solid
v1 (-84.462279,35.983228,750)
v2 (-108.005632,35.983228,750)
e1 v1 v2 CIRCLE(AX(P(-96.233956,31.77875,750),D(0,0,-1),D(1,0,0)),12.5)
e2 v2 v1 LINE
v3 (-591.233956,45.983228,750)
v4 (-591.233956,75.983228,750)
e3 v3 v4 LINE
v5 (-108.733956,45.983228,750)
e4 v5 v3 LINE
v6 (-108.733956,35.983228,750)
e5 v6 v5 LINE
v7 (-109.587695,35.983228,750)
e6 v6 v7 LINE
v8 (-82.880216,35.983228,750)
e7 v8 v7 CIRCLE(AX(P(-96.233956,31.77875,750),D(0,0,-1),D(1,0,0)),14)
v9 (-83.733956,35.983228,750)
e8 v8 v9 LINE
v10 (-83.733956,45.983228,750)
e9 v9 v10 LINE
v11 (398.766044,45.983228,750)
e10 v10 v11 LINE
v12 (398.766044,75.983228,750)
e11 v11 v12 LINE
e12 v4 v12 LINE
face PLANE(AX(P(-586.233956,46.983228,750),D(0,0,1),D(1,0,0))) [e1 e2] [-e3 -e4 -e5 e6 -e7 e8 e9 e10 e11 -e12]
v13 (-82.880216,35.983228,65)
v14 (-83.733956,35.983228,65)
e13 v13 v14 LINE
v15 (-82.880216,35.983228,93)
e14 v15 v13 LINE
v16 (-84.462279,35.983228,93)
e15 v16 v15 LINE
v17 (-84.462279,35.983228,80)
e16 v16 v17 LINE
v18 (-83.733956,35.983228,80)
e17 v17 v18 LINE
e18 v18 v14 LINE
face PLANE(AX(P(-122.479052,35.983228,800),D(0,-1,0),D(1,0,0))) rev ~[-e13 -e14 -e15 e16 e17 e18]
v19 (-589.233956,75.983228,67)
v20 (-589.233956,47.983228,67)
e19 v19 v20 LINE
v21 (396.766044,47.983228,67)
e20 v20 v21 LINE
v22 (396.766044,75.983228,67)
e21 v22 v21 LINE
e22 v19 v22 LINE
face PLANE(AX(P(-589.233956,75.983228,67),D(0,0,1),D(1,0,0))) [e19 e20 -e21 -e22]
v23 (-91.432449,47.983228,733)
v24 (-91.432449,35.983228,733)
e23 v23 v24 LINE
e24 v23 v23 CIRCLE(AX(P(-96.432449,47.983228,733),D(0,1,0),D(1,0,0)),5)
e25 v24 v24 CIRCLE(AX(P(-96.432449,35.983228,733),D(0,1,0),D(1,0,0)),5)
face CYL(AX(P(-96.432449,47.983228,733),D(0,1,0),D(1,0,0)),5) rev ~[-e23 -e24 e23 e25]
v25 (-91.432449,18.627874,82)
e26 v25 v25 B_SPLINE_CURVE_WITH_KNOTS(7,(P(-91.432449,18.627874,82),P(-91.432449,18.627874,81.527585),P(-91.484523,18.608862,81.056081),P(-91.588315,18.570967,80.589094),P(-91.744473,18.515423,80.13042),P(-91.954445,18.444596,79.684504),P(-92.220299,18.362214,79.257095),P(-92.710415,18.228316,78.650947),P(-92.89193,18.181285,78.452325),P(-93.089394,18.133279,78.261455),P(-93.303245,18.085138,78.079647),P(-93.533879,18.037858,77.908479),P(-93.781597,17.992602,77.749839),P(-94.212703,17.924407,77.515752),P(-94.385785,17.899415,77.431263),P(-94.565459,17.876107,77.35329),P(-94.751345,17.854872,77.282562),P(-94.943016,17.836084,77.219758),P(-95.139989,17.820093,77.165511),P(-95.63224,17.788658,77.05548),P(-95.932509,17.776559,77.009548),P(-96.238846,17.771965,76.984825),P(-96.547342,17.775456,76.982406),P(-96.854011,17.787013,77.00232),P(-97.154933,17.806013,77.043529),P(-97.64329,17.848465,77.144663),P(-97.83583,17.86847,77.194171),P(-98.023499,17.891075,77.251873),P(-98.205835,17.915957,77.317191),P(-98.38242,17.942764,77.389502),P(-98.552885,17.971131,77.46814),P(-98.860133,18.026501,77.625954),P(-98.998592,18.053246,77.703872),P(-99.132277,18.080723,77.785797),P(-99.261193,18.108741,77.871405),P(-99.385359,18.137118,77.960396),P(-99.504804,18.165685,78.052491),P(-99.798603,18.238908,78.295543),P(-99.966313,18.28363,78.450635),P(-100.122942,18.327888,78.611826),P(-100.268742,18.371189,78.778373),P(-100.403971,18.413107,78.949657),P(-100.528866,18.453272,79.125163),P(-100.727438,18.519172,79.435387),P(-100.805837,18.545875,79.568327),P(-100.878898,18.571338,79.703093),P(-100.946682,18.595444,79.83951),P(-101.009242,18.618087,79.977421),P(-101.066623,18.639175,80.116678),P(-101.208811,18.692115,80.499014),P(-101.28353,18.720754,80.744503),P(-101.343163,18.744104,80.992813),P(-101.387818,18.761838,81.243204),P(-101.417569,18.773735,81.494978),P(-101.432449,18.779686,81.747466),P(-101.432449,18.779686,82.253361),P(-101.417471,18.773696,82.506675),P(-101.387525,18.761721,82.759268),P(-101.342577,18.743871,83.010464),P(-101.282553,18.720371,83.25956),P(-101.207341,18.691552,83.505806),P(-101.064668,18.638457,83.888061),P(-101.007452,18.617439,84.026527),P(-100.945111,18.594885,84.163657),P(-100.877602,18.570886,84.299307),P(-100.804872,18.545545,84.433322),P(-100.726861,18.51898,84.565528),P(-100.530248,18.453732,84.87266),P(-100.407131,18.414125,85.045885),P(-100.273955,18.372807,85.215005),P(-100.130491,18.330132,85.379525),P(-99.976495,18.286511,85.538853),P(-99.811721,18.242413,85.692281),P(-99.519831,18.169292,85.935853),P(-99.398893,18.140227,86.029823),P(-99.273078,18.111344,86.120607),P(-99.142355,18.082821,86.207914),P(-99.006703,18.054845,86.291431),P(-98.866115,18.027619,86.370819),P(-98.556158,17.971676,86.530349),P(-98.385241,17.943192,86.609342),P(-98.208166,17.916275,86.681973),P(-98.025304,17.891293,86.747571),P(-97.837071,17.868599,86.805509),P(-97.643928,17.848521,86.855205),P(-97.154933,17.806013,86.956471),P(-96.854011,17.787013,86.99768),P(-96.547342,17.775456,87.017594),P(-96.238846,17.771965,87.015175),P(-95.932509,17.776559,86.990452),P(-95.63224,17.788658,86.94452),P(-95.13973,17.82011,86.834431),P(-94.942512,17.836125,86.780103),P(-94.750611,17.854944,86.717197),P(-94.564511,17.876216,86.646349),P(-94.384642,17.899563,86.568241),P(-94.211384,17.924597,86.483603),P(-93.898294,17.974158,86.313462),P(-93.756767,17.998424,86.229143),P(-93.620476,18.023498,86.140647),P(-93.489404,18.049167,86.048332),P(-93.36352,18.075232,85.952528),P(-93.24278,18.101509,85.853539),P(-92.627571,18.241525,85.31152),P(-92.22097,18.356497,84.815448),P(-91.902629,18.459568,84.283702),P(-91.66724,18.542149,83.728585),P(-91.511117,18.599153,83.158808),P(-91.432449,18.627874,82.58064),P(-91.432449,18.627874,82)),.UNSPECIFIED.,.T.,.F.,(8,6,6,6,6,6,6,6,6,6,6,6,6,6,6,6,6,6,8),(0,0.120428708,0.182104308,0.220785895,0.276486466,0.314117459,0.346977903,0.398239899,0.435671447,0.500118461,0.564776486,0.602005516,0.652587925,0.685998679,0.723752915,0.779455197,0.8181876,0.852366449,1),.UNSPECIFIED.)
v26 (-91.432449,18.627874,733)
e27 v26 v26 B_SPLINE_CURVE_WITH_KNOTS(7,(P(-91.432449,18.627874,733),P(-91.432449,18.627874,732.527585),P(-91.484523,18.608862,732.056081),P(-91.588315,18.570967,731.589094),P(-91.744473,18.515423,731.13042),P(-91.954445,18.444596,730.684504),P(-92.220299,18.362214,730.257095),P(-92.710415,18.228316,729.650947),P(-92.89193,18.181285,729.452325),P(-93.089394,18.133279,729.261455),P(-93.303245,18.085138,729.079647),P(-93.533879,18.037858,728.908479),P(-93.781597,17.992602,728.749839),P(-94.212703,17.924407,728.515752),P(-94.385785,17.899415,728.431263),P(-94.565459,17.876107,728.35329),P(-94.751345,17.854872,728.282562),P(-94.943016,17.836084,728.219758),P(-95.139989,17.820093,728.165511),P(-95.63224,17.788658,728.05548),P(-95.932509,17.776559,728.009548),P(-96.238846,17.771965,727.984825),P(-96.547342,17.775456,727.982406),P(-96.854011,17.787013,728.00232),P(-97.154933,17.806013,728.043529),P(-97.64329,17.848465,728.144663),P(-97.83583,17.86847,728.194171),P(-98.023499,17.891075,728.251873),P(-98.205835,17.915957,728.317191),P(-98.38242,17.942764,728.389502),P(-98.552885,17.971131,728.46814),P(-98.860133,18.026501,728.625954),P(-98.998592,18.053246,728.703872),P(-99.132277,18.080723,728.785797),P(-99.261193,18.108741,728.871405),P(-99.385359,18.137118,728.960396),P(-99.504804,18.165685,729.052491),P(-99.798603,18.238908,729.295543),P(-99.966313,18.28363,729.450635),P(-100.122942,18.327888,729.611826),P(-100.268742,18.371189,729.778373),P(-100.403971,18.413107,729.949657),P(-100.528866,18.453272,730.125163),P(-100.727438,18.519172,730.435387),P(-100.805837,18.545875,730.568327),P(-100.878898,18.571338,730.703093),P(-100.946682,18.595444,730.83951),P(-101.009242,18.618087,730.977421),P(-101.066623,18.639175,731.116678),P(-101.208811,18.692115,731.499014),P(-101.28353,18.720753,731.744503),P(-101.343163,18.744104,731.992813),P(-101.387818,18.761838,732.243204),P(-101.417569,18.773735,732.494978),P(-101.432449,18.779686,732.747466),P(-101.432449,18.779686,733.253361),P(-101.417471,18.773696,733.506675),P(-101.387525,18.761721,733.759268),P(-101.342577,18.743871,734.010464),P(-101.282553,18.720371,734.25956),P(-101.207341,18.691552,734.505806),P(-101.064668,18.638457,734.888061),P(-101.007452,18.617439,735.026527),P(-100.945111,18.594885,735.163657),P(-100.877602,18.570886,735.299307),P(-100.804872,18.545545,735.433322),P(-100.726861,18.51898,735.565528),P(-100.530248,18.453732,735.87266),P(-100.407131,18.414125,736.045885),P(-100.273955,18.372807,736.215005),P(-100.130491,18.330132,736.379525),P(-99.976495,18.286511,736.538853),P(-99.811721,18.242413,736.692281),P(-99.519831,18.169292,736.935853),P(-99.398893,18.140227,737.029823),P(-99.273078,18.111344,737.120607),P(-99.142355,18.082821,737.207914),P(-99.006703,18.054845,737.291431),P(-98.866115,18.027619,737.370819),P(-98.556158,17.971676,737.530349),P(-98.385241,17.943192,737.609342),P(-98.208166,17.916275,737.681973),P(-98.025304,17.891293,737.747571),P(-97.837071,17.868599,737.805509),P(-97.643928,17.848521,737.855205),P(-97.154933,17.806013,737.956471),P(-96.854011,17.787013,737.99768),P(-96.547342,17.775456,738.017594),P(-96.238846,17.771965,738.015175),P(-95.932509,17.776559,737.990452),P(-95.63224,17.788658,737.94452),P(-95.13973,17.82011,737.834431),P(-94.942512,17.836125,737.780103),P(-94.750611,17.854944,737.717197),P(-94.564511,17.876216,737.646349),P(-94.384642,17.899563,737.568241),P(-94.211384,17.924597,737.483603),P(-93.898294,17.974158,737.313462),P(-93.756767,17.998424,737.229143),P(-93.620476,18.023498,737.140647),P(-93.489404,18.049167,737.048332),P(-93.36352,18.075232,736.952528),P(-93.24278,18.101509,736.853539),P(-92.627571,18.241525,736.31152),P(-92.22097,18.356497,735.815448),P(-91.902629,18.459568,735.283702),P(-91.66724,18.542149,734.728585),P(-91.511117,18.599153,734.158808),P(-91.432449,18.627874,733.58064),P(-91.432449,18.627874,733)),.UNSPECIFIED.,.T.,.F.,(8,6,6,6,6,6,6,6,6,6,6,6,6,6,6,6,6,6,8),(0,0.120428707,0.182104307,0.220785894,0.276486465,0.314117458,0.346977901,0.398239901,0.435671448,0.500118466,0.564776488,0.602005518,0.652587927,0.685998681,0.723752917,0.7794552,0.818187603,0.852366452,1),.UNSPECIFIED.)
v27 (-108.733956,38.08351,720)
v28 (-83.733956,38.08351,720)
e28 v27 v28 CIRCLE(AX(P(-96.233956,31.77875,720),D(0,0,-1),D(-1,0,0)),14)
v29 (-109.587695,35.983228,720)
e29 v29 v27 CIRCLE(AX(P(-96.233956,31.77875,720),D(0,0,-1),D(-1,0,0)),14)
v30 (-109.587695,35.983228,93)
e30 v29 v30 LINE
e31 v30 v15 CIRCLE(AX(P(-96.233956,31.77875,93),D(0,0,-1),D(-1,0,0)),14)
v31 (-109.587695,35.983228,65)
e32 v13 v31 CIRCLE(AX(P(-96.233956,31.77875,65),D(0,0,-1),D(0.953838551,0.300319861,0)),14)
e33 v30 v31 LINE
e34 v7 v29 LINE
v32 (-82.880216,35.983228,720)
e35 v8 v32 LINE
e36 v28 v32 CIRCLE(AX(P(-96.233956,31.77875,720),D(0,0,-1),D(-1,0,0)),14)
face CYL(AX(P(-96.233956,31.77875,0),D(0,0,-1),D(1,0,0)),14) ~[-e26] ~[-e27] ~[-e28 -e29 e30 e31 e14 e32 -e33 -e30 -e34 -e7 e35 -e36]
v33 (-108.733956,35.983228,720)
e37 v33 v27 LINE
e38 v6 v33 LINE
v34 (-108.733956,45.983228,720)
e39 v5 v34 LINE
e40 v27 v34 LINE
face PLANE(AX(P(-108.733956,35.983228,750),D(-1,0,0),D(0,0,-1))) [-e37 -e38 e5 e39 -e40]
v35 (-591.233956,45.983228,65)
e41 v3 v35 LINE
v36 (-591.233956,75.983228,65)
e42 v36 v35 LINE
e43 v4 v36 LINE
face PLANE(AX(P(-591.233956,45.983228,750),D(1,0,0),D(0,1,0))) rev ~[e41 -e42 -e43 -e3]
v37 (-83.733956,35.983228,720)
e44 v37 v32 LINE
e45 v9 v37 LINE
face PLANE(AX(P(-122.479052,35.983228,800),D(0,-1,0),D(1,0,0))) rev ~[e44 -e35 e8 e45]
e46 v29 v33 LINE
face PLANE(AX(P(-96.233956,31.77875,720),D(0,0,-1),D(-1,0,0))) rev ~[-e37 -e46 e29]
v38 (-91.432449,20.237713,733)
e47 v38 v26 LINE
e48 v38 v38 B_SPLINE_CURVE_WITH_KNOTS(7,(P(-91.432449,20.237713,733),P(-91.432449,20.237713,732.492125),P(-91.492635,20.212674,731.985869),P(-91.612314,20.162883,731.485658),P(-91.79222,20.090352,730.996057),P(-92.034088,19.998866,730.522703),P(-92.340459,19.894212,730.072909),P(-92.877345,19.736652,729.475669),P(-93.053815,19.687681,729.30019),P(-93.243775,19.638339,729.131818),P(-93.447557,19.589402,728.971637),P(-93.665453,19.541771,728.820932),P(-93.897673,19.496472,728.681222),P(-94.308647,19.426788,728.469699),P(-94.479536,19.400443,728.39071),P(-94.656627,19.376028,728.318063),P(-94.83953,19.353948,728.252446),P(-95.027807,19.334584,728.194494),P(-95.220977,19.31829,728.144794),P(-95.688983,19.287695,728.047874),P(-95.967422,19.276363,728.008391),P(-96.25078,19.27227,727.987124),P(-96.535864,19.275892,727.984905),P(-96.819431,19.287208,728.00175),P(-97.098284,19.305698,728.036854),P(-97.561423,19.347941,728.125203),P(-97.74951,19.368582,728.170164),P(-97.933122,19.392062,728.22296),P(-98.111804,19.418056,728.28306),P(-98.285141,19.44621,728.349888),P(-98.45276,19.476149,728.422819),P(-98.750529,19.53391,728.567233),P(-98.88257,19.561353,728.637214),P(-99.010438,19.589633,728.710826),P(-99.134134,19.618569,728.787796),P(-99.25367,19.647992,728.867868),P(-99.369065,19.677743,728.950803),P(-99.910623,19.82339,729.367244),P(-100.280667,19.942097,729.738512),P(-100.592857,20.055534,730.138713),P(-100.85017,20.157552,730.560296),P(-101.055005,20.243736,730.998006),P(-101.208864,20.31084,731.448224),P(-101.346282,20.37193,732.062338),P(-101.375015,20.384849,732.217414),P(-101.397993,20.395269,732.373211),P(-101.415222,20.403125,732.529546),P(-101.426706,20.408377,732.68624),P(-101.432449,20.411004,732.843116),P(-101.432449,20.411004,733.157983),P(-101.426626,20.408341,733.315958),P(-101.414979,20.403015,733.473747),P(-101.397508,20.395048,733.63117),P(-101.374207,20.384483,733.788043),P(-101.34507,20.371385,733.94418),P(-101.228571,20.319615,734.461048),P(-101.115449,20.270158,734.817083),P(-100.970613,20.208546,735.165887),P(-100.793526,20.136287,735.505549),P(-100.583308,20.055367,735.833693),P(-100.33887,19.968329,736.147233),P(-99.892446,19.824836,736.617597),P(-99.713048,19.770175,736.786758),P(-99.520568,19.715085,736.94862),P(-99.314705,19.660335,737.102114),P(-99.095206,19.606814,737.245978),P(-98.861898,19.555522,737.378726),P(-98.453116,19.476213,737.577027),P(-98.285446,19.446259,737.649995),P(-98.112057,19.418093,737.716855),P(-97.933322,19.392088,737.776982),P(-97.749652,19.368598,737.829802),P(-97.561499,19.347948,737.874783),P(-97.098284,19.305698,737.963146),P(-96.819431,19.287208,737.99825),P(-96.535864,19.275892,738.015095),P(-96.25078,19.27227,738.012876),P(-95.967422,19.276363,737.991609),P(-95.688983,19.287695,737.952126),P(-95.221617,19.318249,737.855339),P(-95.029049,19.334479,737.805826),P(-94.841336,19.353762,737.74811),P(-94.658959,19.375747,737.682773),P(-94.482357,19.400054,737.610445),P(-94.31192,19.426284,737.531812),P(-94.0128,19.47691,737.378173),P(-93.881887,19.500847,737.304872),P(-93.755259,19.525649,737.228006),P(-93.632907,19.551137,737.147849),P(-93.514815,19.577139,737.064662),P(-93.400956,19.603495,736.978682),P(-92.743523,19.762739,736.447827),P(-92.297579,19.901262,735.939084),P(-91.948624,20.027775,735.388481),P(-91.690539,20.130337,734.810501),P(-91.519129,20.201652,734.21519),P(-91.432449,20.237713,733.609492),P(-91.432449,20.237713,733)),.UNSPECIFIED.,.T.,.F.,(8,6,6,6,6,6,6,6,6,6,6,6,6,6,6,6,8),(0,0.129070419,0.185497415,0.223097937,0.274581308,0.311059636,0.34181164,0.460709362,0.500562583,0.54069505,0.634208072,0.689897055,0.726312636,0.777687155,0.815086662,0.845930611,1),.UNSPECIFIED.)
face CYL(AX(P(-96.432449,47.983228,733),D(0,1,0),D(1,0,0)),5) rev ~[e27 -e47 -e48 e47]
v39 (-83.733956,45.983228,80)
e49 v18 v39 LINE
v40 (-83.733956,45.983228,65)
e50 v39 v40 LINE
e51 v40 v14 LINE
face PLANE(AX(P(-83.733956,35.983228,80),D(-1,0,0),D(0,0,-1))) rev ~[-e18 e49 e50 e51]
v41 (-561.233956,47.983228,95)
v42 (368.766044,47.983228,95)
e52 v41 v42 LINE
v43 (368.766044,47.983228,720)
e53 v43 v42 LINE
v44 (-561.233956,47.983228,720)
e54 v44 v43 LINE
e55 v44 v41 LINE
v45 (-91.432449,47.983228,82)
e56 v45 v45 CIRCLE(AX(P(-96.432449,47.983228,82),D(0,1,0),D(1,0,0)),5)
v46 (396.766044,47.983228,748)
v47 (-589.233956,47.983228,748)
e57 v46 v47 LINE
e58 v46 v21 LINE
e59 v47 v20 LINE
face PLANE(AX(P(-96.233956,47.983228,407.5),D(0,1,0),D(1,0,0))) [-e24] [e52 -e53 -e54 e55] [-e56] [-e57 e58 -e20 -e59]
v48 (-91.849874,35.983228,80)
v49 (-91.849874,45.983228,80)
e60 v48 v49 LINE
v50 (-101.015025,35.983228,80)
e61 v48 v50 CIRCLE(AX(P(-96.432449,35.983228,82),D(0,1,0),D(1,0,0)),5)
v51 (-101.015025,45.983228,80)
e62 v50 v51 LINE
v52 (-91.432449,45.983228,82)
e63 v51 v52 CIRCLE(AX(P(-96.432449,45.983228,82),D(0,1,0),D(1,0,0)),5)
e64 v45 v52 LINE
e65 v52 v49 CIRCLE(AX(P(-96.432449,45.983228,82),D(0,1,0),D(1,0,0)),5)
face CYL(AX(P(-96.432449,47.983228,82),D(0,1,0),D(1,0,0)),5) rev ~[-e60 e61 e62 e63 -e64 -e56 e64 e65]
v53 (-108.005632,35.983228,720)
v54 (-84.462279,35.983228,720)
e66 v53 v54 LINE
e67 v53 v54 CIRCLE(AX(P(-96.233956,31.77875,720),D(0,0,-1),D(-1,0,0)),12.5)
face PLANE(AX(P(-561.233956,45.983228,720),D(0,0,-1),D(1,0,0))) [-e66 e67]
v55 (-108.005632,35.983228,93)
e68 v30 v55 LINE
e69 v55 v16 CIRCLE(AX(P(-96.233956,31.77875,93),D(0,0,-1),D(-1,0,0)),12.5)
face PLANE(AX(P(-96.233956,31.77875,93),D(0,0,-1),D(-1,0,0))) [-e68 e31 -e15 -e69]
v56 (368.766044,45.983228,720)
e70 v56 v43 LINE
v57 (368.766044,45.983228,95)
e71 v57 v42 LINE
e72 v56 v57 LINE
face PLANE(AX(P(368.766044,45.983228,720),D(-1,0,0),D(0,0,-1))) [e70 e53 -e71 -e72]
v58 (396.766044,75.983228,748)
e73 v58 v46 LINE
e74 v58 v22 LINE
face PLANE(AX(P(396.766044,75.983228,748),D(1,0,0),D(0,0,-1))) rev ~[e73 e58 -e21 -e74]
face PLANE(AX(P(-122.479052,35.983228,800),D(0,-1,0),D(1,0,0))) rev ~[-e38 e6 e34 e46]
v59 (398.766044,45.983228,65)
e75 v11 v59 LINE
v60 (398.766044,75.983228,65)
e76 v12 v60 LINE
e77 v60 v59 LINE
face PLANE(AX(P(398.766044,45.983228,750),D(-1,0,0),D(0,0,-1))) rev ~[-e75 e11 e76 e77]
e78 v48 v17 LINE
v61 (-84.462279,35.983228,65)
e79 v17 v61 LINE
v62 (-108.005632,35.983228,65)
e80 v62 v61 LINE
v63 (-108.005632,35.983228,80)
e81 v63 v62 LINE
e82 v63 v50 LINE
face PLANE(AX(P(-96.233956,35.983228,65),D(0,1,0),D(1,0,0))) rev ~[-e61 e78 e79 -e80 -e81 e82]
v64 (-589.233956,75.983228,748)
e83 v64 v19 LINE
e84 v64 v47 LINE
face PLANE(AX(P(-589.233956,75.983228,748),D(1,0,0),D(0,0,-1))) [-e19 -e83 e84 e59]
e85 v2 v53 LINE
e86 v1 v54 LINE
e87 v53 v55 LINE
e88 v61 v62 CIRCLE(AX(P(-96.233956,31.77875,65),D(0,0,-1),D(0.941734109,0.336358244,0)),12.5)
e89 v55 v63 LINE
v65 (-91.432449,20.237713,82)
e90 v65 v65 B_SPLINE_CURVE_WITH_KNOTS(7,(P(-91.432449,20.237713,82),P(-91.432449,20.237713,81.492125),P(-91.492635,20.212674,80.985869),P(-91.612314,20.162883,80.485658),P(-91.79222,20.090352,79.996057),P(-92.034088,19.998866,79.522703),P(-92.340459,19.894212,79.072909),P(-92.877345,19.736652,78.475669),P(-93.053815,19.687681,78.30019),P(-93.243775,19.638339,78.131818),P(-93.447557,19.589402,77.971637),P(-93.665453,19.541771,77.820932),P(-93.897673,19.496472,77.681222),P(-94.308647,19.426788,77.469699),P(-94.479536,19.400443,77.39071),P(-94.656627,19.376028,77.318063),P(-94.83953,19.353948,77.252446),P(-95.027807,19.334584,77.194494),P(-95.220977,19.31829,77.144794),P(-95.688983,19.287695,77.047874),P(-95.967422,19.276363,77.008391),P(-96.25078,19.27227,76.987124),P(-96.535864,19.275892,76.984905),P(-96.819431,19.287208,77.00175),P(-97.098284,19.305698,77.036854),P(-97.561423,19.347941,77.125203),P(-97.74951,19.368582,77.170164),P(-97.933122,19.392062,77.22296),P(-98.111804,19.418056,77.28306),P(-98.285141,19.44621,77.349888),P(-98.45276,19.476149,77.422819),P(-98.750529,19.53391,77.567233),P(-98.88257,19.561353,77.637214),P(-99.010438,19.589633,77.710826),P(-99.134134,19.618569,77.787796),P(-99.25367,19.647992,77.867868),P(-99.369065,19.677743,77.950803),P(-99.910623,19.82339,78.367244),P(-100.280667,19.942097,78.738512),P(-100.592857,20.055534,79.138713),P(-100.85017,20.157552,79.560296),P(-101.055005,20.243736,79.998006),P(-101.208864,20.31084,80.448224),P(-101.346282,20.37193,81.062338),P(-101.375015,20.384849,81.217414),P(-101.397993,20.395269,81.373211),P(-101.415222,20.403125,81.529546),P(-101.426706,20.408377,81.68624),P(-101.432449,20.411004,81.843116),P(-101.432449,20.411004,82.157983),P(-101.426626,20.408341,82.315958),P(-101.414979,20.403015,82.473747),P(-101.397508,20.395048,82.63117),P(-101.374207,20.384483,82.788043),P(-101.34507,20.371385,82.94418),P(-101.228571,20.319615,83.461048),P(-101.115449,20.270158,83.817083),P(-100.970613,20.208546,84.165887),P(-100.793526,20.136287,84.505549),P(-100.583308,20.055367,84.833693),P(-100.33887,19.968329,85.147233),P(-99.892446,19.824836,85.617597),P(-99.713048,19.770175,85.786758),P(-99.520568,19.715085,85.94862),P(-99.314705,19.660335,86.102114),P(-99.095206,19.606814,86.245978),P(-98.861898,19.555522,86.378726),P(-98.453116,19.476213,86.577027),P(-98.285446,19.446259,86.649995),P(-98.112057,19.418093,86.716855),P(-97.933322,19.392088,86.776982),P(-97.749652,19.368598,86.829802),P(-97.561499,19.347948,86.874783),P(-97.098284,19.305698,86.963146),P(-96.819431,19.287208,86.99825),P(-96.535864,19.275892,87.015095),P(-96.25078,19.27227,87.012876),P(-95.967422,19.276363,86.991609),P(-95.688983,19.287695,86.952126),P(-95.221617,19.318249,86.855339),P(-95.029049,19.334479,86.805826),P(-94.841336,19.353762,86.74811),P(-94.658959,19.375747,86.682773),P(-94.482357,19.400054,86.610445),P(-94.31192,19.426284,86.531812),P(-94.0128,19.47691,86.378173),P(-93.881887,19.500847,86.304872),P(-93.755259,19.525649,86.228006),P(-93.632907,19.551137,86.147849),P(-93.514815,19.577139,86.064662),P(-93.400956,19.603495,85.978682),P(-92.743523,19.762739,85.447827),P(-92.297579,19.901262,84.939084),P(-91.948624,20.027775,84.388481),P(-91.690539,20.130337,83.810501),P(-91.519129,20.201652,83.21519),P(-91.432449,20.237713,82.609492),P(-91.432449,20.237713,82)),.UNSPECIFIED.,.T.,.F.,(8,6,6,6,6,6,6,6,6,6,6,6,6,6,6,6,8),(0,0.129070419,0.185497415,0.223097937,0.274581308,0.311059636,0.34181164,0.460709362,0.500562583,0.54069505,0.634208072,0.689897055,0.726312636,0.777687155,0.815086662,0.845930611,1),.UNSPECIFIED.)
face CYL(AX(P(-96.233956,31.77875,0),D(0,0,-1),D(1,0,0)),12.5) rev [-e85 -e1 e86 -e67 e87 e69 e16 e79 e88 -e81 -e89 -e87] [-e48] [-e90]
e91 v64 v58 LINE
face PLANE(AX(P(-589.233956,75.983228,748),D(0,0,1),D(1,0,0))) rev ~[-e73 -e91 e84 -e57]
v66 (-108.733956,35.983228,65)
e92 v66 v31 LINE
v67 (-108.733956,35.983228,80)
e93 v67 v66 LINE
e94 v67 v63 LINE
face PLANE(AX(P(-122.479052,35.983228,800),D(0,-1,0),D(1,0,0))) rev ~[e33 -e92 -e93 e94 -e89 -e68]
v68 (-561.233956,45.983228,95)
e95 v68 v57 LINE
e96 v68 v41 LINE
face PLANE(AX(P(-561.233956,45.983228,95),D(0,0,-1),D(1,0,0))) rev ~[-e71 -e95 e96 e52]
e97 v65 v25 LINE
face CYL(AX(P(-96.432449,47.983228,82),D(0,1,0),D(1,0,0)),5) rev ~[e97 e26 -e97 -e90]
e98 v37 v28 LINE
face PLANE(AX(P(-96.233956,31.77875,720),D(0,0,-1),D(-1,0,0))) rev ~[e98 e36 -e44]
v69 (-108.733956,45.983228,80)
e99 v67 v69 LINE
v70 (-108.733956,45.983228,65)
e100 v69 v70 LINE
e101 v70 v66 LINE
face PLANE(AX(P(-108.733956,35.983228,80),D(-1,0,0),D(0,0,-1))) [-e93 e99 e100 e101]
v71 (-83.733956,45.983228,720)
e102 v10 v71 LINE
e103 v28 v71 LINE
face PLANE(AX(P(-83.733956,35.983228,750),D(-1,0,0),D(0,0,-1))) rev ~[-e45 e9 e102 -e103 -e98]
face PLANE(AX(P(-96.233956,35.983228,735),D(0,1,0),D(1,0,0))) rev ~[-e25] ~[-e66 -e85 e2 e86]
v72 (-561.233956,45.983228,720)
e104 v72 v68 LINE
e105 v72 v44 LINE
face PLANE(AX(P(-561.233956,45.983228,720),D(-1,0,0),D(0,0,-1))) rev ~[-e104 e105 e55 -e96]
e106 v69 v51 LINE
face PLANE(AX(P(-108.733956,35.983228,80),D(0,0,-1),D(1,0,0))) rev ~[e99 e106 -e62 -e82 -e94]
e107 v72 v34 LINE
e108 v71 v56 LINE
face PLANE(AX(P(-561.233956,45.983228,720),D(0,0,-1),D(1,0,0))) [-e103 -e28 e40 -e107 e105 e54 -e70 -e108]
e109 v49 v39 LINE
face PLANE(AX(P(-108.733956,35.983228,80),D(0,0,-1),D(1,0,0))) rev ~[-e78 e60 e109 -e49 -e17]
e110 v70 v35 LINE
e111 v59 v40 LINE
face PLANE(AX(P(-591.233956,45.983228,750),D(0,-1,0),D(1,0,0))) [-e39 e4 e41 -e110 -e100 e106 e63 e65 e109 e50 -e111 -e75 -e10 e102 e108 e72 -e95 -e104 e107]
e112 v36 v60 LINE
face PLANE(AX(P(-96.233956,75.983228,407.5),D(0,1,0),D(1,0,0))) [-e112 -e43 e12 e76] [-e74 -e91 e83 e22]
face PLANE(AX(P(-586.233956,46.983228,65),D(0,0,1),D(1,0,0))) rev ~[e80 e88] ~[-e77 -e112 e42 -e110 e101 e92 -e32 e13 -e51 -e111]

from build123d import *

# Parameters (mm, degrees)
SKETCH2_R            = 14
SKETCH2_R_2          = 12.5
BOSS_EXTRUDE3_DEPTH  = 800
SKETCH3_W            = 50.702600358
SKETCH3_H            = 14.280844995
CUT_EXTRUDE2_DEPTH   = 800
SKETCH5_W            = 25
SKETCH5_H            = 30
BOSS_EXTRUDE4_DEPTH  = 10
SKETCH7_W            = 990
SKETCH7_H            = 685
SKETCH7_W_2          = 930
SKETCH7_H_2          = 625
BOSS_EXTRUDE7_DEPTH  = 30
SKETCH8_W            = 986
SKETCH8_H            = 681
CUT_EXTRUDE3_DEPTH   = 28
SKETCH9_R            = 5
CUT_EXTRUDE4_DEPTH   = 40
SKETCH15_W           = 1140
SKETCH15_H           = 860
SKETCH15_W_2         = 980
SKETCH15_H_2         = 700
CUT_EXTRUDE6_DEPTH   = 149
SKETCH17_W           = 10
SKETCH17_H           = 2
BOSS_EXTRUDE11_DEPTH = 685
SKETCH20_W           = 25
SKETCH20_H           = 15
CUT_EXTRUDE7_DEPTH   = 38
SKETCH22_R           = 14
SKETCH22_R_2         = 12.5
BOSS_EXTRUDE13_DEPTH = 627
SKETCH23_W           = 59.046620232
SKETCH23_H           = 45.176343133
CUT_EXTRUDE8_DEPTH   = 627


with BuildPart() as part:
    # Sketch2 → Boss-Extrude3 (new body)
    with BuildSketch(Plane.XY):
        with Locations((-96.233955608, 31.778750266)):
            Circle(SKETCH2_R)
        with Locations((-96.233955608, 31.778750266)):
            Circle(SKETCH2_R_2, mode=Mode.SUBTRACT)
    extrude(amount=BOSS_EXTRUDE3_DEPTH)

    # Sketch3 → Cut-Extrude2 (cut)
    with BuildSketch(Plane.XY.offset(800)):
        with Locations((-97.127751448, 43.123650815)):
            Rectangle(SKETCH3_W, SKETCH3_H)
    extrude(amount=-CUT_EXTRUDE2_DEPTH, mode=Mode.SUBTRACT)

    # Sketch5 → Boss-Extrude4 (add)
    with BuildSketch(Plane(origin=(0, 35.983228318, 0), x_dir=(1, 0, 0), z_dir=(0, 1, 0))):
        with Locations((-96.233955608, -65)):
            Rectangle(SKETCH5_W, SKETCH5_H)
        with Locations((-96.233955608, -735)):
            Rectangle(SKETCH5_W, SKETCH5_H)
    extrude(amount=BOSS_EXTRUDE4_DEPTH)

    # Sketch7 → Boss-Extrude7 (add)
    with BuildSketch(Plane(origin=(0, 45.983228318, 0), x_dir=(1, 0, 0), z_dir=(0, 1, 0))):
        with Locations((-96.233955608, -407.5)):
            Rectangle(SKETCH7_W, SKETCH7_H)
        with Locations((-96.233955608, -407.5)):
            Rectangle(SKETCH7_W_2, SKETCH7_H_2, mode=Mode.SUBTRACT)
    extrude(amount=BOSS_EXTRUDE7_DEPTH)

    # Sketch8 → Cut-Extrude3 (cut)
    with BuildSketch(Plane(origin=(0, 75.983228318, 0), x_dir=(1, 0, 0), z_dir=(0, 1, 0))):
        with Locations((-96.233955608, -407.5)):
            Rectangle(SKETCH8_W, SKETCH8_H)
    extrude(amount=-CUT_EXTRUDE3_DEPTH, mode=Mode.SUBTRACT)

    # Sketch9 → Cut-Extrude4 (cut)
    with BuildSketch(Plane(origin=(0, 47.983228318, 0), x_dir=(1, 0, 0), z_dir=(0, 1, 0))):
        with Locations((-96.432449353, -82)):
            Circle(SKETCH9_R)
        with Locations((-96.432449353, -733)):
            Circle(SKETCH9_R)
    extrude(amount=-CUT_EXTRUDE4_DEPTH, mode=Mode.SUBTRACT)

    # Sketch15 → Cut-Extrude6 (cut)
    with BuildSketch(Plane(origin=(0, 47.983228318, 0), x_dir=(1, 0, 0), z_dir=(0, 1, 0))):
        with Locations((-91.233955608, -400)):
            Rectangle(SKETCH15_W, SKETCH15_H)
        with Locations((-91.233955608, -400)):
            Rectangle(SKETCH15_W_2, SKETCH15_H_2, mode=Mode.SUBTRACT)
    extrude(amount=-CUT_EXTRUDE6_DEPTH, mode=Mode.SUBTRACT)

    # Sketch17 → Boss-Extrude11 (add)
    with BuildSketch(Plane.XY.offset(750)):
        with Locations((-586.233955608, 46.983228318)):
            Rectangle(SKETCH17_W, SKETCH17_H)
    extrude(amount=-BOSS_EXTRUDE11_DEPTH)

    # Sketch20 → Cut-Extrude7 (cut)
    with BuildSketch(Plane(origin=(0, 45.983228318, 0), x_dir=(1, 0, 0), z_dir=(0, 1, 0))):
        with Locations((-96.233955608, -57.5)):
            Rectangle(SKETCH20_W, SKETCH20_H)
    extrude(amount=-CUT_EXTRUDE7_DEPTH, mode=Mode.SUBTRACT)

    # Sketch22 → Boss-Extrude13 (add)
    with BuildSketch(Plane(origin=(0, 0, 720), x_dir=(-1, 0, 0), z_dir=(0, 0, -1))):
        with Locations((96.233955608, 31.778750266)):
            Circle(SKETCH22_R)
        with Locations((96.233955608, 31.778750266)):
            Circle(SKETCH22_R_2, mode=Mode.SUBTRACT)
    extrude(amount=BOSS_EXTRUDE13_DEPTH)

    # Sketch23 → Cut-Extrude8 (cut)
    with BuildSketch(Plane(origin=(0, 47.983228318, 0), x_dir=(1, 0, 0), z_dir=(0, 1, 0))):
        with Locations((-102.636866369, -42.411828433)):
            Rectangle(SKETCH23_W, SKETCH23_H)
    extrude(amount=-CUT_EXTRUDE8_DEPTH, mode=Mode.SUBTRACT)


solid = part.part
